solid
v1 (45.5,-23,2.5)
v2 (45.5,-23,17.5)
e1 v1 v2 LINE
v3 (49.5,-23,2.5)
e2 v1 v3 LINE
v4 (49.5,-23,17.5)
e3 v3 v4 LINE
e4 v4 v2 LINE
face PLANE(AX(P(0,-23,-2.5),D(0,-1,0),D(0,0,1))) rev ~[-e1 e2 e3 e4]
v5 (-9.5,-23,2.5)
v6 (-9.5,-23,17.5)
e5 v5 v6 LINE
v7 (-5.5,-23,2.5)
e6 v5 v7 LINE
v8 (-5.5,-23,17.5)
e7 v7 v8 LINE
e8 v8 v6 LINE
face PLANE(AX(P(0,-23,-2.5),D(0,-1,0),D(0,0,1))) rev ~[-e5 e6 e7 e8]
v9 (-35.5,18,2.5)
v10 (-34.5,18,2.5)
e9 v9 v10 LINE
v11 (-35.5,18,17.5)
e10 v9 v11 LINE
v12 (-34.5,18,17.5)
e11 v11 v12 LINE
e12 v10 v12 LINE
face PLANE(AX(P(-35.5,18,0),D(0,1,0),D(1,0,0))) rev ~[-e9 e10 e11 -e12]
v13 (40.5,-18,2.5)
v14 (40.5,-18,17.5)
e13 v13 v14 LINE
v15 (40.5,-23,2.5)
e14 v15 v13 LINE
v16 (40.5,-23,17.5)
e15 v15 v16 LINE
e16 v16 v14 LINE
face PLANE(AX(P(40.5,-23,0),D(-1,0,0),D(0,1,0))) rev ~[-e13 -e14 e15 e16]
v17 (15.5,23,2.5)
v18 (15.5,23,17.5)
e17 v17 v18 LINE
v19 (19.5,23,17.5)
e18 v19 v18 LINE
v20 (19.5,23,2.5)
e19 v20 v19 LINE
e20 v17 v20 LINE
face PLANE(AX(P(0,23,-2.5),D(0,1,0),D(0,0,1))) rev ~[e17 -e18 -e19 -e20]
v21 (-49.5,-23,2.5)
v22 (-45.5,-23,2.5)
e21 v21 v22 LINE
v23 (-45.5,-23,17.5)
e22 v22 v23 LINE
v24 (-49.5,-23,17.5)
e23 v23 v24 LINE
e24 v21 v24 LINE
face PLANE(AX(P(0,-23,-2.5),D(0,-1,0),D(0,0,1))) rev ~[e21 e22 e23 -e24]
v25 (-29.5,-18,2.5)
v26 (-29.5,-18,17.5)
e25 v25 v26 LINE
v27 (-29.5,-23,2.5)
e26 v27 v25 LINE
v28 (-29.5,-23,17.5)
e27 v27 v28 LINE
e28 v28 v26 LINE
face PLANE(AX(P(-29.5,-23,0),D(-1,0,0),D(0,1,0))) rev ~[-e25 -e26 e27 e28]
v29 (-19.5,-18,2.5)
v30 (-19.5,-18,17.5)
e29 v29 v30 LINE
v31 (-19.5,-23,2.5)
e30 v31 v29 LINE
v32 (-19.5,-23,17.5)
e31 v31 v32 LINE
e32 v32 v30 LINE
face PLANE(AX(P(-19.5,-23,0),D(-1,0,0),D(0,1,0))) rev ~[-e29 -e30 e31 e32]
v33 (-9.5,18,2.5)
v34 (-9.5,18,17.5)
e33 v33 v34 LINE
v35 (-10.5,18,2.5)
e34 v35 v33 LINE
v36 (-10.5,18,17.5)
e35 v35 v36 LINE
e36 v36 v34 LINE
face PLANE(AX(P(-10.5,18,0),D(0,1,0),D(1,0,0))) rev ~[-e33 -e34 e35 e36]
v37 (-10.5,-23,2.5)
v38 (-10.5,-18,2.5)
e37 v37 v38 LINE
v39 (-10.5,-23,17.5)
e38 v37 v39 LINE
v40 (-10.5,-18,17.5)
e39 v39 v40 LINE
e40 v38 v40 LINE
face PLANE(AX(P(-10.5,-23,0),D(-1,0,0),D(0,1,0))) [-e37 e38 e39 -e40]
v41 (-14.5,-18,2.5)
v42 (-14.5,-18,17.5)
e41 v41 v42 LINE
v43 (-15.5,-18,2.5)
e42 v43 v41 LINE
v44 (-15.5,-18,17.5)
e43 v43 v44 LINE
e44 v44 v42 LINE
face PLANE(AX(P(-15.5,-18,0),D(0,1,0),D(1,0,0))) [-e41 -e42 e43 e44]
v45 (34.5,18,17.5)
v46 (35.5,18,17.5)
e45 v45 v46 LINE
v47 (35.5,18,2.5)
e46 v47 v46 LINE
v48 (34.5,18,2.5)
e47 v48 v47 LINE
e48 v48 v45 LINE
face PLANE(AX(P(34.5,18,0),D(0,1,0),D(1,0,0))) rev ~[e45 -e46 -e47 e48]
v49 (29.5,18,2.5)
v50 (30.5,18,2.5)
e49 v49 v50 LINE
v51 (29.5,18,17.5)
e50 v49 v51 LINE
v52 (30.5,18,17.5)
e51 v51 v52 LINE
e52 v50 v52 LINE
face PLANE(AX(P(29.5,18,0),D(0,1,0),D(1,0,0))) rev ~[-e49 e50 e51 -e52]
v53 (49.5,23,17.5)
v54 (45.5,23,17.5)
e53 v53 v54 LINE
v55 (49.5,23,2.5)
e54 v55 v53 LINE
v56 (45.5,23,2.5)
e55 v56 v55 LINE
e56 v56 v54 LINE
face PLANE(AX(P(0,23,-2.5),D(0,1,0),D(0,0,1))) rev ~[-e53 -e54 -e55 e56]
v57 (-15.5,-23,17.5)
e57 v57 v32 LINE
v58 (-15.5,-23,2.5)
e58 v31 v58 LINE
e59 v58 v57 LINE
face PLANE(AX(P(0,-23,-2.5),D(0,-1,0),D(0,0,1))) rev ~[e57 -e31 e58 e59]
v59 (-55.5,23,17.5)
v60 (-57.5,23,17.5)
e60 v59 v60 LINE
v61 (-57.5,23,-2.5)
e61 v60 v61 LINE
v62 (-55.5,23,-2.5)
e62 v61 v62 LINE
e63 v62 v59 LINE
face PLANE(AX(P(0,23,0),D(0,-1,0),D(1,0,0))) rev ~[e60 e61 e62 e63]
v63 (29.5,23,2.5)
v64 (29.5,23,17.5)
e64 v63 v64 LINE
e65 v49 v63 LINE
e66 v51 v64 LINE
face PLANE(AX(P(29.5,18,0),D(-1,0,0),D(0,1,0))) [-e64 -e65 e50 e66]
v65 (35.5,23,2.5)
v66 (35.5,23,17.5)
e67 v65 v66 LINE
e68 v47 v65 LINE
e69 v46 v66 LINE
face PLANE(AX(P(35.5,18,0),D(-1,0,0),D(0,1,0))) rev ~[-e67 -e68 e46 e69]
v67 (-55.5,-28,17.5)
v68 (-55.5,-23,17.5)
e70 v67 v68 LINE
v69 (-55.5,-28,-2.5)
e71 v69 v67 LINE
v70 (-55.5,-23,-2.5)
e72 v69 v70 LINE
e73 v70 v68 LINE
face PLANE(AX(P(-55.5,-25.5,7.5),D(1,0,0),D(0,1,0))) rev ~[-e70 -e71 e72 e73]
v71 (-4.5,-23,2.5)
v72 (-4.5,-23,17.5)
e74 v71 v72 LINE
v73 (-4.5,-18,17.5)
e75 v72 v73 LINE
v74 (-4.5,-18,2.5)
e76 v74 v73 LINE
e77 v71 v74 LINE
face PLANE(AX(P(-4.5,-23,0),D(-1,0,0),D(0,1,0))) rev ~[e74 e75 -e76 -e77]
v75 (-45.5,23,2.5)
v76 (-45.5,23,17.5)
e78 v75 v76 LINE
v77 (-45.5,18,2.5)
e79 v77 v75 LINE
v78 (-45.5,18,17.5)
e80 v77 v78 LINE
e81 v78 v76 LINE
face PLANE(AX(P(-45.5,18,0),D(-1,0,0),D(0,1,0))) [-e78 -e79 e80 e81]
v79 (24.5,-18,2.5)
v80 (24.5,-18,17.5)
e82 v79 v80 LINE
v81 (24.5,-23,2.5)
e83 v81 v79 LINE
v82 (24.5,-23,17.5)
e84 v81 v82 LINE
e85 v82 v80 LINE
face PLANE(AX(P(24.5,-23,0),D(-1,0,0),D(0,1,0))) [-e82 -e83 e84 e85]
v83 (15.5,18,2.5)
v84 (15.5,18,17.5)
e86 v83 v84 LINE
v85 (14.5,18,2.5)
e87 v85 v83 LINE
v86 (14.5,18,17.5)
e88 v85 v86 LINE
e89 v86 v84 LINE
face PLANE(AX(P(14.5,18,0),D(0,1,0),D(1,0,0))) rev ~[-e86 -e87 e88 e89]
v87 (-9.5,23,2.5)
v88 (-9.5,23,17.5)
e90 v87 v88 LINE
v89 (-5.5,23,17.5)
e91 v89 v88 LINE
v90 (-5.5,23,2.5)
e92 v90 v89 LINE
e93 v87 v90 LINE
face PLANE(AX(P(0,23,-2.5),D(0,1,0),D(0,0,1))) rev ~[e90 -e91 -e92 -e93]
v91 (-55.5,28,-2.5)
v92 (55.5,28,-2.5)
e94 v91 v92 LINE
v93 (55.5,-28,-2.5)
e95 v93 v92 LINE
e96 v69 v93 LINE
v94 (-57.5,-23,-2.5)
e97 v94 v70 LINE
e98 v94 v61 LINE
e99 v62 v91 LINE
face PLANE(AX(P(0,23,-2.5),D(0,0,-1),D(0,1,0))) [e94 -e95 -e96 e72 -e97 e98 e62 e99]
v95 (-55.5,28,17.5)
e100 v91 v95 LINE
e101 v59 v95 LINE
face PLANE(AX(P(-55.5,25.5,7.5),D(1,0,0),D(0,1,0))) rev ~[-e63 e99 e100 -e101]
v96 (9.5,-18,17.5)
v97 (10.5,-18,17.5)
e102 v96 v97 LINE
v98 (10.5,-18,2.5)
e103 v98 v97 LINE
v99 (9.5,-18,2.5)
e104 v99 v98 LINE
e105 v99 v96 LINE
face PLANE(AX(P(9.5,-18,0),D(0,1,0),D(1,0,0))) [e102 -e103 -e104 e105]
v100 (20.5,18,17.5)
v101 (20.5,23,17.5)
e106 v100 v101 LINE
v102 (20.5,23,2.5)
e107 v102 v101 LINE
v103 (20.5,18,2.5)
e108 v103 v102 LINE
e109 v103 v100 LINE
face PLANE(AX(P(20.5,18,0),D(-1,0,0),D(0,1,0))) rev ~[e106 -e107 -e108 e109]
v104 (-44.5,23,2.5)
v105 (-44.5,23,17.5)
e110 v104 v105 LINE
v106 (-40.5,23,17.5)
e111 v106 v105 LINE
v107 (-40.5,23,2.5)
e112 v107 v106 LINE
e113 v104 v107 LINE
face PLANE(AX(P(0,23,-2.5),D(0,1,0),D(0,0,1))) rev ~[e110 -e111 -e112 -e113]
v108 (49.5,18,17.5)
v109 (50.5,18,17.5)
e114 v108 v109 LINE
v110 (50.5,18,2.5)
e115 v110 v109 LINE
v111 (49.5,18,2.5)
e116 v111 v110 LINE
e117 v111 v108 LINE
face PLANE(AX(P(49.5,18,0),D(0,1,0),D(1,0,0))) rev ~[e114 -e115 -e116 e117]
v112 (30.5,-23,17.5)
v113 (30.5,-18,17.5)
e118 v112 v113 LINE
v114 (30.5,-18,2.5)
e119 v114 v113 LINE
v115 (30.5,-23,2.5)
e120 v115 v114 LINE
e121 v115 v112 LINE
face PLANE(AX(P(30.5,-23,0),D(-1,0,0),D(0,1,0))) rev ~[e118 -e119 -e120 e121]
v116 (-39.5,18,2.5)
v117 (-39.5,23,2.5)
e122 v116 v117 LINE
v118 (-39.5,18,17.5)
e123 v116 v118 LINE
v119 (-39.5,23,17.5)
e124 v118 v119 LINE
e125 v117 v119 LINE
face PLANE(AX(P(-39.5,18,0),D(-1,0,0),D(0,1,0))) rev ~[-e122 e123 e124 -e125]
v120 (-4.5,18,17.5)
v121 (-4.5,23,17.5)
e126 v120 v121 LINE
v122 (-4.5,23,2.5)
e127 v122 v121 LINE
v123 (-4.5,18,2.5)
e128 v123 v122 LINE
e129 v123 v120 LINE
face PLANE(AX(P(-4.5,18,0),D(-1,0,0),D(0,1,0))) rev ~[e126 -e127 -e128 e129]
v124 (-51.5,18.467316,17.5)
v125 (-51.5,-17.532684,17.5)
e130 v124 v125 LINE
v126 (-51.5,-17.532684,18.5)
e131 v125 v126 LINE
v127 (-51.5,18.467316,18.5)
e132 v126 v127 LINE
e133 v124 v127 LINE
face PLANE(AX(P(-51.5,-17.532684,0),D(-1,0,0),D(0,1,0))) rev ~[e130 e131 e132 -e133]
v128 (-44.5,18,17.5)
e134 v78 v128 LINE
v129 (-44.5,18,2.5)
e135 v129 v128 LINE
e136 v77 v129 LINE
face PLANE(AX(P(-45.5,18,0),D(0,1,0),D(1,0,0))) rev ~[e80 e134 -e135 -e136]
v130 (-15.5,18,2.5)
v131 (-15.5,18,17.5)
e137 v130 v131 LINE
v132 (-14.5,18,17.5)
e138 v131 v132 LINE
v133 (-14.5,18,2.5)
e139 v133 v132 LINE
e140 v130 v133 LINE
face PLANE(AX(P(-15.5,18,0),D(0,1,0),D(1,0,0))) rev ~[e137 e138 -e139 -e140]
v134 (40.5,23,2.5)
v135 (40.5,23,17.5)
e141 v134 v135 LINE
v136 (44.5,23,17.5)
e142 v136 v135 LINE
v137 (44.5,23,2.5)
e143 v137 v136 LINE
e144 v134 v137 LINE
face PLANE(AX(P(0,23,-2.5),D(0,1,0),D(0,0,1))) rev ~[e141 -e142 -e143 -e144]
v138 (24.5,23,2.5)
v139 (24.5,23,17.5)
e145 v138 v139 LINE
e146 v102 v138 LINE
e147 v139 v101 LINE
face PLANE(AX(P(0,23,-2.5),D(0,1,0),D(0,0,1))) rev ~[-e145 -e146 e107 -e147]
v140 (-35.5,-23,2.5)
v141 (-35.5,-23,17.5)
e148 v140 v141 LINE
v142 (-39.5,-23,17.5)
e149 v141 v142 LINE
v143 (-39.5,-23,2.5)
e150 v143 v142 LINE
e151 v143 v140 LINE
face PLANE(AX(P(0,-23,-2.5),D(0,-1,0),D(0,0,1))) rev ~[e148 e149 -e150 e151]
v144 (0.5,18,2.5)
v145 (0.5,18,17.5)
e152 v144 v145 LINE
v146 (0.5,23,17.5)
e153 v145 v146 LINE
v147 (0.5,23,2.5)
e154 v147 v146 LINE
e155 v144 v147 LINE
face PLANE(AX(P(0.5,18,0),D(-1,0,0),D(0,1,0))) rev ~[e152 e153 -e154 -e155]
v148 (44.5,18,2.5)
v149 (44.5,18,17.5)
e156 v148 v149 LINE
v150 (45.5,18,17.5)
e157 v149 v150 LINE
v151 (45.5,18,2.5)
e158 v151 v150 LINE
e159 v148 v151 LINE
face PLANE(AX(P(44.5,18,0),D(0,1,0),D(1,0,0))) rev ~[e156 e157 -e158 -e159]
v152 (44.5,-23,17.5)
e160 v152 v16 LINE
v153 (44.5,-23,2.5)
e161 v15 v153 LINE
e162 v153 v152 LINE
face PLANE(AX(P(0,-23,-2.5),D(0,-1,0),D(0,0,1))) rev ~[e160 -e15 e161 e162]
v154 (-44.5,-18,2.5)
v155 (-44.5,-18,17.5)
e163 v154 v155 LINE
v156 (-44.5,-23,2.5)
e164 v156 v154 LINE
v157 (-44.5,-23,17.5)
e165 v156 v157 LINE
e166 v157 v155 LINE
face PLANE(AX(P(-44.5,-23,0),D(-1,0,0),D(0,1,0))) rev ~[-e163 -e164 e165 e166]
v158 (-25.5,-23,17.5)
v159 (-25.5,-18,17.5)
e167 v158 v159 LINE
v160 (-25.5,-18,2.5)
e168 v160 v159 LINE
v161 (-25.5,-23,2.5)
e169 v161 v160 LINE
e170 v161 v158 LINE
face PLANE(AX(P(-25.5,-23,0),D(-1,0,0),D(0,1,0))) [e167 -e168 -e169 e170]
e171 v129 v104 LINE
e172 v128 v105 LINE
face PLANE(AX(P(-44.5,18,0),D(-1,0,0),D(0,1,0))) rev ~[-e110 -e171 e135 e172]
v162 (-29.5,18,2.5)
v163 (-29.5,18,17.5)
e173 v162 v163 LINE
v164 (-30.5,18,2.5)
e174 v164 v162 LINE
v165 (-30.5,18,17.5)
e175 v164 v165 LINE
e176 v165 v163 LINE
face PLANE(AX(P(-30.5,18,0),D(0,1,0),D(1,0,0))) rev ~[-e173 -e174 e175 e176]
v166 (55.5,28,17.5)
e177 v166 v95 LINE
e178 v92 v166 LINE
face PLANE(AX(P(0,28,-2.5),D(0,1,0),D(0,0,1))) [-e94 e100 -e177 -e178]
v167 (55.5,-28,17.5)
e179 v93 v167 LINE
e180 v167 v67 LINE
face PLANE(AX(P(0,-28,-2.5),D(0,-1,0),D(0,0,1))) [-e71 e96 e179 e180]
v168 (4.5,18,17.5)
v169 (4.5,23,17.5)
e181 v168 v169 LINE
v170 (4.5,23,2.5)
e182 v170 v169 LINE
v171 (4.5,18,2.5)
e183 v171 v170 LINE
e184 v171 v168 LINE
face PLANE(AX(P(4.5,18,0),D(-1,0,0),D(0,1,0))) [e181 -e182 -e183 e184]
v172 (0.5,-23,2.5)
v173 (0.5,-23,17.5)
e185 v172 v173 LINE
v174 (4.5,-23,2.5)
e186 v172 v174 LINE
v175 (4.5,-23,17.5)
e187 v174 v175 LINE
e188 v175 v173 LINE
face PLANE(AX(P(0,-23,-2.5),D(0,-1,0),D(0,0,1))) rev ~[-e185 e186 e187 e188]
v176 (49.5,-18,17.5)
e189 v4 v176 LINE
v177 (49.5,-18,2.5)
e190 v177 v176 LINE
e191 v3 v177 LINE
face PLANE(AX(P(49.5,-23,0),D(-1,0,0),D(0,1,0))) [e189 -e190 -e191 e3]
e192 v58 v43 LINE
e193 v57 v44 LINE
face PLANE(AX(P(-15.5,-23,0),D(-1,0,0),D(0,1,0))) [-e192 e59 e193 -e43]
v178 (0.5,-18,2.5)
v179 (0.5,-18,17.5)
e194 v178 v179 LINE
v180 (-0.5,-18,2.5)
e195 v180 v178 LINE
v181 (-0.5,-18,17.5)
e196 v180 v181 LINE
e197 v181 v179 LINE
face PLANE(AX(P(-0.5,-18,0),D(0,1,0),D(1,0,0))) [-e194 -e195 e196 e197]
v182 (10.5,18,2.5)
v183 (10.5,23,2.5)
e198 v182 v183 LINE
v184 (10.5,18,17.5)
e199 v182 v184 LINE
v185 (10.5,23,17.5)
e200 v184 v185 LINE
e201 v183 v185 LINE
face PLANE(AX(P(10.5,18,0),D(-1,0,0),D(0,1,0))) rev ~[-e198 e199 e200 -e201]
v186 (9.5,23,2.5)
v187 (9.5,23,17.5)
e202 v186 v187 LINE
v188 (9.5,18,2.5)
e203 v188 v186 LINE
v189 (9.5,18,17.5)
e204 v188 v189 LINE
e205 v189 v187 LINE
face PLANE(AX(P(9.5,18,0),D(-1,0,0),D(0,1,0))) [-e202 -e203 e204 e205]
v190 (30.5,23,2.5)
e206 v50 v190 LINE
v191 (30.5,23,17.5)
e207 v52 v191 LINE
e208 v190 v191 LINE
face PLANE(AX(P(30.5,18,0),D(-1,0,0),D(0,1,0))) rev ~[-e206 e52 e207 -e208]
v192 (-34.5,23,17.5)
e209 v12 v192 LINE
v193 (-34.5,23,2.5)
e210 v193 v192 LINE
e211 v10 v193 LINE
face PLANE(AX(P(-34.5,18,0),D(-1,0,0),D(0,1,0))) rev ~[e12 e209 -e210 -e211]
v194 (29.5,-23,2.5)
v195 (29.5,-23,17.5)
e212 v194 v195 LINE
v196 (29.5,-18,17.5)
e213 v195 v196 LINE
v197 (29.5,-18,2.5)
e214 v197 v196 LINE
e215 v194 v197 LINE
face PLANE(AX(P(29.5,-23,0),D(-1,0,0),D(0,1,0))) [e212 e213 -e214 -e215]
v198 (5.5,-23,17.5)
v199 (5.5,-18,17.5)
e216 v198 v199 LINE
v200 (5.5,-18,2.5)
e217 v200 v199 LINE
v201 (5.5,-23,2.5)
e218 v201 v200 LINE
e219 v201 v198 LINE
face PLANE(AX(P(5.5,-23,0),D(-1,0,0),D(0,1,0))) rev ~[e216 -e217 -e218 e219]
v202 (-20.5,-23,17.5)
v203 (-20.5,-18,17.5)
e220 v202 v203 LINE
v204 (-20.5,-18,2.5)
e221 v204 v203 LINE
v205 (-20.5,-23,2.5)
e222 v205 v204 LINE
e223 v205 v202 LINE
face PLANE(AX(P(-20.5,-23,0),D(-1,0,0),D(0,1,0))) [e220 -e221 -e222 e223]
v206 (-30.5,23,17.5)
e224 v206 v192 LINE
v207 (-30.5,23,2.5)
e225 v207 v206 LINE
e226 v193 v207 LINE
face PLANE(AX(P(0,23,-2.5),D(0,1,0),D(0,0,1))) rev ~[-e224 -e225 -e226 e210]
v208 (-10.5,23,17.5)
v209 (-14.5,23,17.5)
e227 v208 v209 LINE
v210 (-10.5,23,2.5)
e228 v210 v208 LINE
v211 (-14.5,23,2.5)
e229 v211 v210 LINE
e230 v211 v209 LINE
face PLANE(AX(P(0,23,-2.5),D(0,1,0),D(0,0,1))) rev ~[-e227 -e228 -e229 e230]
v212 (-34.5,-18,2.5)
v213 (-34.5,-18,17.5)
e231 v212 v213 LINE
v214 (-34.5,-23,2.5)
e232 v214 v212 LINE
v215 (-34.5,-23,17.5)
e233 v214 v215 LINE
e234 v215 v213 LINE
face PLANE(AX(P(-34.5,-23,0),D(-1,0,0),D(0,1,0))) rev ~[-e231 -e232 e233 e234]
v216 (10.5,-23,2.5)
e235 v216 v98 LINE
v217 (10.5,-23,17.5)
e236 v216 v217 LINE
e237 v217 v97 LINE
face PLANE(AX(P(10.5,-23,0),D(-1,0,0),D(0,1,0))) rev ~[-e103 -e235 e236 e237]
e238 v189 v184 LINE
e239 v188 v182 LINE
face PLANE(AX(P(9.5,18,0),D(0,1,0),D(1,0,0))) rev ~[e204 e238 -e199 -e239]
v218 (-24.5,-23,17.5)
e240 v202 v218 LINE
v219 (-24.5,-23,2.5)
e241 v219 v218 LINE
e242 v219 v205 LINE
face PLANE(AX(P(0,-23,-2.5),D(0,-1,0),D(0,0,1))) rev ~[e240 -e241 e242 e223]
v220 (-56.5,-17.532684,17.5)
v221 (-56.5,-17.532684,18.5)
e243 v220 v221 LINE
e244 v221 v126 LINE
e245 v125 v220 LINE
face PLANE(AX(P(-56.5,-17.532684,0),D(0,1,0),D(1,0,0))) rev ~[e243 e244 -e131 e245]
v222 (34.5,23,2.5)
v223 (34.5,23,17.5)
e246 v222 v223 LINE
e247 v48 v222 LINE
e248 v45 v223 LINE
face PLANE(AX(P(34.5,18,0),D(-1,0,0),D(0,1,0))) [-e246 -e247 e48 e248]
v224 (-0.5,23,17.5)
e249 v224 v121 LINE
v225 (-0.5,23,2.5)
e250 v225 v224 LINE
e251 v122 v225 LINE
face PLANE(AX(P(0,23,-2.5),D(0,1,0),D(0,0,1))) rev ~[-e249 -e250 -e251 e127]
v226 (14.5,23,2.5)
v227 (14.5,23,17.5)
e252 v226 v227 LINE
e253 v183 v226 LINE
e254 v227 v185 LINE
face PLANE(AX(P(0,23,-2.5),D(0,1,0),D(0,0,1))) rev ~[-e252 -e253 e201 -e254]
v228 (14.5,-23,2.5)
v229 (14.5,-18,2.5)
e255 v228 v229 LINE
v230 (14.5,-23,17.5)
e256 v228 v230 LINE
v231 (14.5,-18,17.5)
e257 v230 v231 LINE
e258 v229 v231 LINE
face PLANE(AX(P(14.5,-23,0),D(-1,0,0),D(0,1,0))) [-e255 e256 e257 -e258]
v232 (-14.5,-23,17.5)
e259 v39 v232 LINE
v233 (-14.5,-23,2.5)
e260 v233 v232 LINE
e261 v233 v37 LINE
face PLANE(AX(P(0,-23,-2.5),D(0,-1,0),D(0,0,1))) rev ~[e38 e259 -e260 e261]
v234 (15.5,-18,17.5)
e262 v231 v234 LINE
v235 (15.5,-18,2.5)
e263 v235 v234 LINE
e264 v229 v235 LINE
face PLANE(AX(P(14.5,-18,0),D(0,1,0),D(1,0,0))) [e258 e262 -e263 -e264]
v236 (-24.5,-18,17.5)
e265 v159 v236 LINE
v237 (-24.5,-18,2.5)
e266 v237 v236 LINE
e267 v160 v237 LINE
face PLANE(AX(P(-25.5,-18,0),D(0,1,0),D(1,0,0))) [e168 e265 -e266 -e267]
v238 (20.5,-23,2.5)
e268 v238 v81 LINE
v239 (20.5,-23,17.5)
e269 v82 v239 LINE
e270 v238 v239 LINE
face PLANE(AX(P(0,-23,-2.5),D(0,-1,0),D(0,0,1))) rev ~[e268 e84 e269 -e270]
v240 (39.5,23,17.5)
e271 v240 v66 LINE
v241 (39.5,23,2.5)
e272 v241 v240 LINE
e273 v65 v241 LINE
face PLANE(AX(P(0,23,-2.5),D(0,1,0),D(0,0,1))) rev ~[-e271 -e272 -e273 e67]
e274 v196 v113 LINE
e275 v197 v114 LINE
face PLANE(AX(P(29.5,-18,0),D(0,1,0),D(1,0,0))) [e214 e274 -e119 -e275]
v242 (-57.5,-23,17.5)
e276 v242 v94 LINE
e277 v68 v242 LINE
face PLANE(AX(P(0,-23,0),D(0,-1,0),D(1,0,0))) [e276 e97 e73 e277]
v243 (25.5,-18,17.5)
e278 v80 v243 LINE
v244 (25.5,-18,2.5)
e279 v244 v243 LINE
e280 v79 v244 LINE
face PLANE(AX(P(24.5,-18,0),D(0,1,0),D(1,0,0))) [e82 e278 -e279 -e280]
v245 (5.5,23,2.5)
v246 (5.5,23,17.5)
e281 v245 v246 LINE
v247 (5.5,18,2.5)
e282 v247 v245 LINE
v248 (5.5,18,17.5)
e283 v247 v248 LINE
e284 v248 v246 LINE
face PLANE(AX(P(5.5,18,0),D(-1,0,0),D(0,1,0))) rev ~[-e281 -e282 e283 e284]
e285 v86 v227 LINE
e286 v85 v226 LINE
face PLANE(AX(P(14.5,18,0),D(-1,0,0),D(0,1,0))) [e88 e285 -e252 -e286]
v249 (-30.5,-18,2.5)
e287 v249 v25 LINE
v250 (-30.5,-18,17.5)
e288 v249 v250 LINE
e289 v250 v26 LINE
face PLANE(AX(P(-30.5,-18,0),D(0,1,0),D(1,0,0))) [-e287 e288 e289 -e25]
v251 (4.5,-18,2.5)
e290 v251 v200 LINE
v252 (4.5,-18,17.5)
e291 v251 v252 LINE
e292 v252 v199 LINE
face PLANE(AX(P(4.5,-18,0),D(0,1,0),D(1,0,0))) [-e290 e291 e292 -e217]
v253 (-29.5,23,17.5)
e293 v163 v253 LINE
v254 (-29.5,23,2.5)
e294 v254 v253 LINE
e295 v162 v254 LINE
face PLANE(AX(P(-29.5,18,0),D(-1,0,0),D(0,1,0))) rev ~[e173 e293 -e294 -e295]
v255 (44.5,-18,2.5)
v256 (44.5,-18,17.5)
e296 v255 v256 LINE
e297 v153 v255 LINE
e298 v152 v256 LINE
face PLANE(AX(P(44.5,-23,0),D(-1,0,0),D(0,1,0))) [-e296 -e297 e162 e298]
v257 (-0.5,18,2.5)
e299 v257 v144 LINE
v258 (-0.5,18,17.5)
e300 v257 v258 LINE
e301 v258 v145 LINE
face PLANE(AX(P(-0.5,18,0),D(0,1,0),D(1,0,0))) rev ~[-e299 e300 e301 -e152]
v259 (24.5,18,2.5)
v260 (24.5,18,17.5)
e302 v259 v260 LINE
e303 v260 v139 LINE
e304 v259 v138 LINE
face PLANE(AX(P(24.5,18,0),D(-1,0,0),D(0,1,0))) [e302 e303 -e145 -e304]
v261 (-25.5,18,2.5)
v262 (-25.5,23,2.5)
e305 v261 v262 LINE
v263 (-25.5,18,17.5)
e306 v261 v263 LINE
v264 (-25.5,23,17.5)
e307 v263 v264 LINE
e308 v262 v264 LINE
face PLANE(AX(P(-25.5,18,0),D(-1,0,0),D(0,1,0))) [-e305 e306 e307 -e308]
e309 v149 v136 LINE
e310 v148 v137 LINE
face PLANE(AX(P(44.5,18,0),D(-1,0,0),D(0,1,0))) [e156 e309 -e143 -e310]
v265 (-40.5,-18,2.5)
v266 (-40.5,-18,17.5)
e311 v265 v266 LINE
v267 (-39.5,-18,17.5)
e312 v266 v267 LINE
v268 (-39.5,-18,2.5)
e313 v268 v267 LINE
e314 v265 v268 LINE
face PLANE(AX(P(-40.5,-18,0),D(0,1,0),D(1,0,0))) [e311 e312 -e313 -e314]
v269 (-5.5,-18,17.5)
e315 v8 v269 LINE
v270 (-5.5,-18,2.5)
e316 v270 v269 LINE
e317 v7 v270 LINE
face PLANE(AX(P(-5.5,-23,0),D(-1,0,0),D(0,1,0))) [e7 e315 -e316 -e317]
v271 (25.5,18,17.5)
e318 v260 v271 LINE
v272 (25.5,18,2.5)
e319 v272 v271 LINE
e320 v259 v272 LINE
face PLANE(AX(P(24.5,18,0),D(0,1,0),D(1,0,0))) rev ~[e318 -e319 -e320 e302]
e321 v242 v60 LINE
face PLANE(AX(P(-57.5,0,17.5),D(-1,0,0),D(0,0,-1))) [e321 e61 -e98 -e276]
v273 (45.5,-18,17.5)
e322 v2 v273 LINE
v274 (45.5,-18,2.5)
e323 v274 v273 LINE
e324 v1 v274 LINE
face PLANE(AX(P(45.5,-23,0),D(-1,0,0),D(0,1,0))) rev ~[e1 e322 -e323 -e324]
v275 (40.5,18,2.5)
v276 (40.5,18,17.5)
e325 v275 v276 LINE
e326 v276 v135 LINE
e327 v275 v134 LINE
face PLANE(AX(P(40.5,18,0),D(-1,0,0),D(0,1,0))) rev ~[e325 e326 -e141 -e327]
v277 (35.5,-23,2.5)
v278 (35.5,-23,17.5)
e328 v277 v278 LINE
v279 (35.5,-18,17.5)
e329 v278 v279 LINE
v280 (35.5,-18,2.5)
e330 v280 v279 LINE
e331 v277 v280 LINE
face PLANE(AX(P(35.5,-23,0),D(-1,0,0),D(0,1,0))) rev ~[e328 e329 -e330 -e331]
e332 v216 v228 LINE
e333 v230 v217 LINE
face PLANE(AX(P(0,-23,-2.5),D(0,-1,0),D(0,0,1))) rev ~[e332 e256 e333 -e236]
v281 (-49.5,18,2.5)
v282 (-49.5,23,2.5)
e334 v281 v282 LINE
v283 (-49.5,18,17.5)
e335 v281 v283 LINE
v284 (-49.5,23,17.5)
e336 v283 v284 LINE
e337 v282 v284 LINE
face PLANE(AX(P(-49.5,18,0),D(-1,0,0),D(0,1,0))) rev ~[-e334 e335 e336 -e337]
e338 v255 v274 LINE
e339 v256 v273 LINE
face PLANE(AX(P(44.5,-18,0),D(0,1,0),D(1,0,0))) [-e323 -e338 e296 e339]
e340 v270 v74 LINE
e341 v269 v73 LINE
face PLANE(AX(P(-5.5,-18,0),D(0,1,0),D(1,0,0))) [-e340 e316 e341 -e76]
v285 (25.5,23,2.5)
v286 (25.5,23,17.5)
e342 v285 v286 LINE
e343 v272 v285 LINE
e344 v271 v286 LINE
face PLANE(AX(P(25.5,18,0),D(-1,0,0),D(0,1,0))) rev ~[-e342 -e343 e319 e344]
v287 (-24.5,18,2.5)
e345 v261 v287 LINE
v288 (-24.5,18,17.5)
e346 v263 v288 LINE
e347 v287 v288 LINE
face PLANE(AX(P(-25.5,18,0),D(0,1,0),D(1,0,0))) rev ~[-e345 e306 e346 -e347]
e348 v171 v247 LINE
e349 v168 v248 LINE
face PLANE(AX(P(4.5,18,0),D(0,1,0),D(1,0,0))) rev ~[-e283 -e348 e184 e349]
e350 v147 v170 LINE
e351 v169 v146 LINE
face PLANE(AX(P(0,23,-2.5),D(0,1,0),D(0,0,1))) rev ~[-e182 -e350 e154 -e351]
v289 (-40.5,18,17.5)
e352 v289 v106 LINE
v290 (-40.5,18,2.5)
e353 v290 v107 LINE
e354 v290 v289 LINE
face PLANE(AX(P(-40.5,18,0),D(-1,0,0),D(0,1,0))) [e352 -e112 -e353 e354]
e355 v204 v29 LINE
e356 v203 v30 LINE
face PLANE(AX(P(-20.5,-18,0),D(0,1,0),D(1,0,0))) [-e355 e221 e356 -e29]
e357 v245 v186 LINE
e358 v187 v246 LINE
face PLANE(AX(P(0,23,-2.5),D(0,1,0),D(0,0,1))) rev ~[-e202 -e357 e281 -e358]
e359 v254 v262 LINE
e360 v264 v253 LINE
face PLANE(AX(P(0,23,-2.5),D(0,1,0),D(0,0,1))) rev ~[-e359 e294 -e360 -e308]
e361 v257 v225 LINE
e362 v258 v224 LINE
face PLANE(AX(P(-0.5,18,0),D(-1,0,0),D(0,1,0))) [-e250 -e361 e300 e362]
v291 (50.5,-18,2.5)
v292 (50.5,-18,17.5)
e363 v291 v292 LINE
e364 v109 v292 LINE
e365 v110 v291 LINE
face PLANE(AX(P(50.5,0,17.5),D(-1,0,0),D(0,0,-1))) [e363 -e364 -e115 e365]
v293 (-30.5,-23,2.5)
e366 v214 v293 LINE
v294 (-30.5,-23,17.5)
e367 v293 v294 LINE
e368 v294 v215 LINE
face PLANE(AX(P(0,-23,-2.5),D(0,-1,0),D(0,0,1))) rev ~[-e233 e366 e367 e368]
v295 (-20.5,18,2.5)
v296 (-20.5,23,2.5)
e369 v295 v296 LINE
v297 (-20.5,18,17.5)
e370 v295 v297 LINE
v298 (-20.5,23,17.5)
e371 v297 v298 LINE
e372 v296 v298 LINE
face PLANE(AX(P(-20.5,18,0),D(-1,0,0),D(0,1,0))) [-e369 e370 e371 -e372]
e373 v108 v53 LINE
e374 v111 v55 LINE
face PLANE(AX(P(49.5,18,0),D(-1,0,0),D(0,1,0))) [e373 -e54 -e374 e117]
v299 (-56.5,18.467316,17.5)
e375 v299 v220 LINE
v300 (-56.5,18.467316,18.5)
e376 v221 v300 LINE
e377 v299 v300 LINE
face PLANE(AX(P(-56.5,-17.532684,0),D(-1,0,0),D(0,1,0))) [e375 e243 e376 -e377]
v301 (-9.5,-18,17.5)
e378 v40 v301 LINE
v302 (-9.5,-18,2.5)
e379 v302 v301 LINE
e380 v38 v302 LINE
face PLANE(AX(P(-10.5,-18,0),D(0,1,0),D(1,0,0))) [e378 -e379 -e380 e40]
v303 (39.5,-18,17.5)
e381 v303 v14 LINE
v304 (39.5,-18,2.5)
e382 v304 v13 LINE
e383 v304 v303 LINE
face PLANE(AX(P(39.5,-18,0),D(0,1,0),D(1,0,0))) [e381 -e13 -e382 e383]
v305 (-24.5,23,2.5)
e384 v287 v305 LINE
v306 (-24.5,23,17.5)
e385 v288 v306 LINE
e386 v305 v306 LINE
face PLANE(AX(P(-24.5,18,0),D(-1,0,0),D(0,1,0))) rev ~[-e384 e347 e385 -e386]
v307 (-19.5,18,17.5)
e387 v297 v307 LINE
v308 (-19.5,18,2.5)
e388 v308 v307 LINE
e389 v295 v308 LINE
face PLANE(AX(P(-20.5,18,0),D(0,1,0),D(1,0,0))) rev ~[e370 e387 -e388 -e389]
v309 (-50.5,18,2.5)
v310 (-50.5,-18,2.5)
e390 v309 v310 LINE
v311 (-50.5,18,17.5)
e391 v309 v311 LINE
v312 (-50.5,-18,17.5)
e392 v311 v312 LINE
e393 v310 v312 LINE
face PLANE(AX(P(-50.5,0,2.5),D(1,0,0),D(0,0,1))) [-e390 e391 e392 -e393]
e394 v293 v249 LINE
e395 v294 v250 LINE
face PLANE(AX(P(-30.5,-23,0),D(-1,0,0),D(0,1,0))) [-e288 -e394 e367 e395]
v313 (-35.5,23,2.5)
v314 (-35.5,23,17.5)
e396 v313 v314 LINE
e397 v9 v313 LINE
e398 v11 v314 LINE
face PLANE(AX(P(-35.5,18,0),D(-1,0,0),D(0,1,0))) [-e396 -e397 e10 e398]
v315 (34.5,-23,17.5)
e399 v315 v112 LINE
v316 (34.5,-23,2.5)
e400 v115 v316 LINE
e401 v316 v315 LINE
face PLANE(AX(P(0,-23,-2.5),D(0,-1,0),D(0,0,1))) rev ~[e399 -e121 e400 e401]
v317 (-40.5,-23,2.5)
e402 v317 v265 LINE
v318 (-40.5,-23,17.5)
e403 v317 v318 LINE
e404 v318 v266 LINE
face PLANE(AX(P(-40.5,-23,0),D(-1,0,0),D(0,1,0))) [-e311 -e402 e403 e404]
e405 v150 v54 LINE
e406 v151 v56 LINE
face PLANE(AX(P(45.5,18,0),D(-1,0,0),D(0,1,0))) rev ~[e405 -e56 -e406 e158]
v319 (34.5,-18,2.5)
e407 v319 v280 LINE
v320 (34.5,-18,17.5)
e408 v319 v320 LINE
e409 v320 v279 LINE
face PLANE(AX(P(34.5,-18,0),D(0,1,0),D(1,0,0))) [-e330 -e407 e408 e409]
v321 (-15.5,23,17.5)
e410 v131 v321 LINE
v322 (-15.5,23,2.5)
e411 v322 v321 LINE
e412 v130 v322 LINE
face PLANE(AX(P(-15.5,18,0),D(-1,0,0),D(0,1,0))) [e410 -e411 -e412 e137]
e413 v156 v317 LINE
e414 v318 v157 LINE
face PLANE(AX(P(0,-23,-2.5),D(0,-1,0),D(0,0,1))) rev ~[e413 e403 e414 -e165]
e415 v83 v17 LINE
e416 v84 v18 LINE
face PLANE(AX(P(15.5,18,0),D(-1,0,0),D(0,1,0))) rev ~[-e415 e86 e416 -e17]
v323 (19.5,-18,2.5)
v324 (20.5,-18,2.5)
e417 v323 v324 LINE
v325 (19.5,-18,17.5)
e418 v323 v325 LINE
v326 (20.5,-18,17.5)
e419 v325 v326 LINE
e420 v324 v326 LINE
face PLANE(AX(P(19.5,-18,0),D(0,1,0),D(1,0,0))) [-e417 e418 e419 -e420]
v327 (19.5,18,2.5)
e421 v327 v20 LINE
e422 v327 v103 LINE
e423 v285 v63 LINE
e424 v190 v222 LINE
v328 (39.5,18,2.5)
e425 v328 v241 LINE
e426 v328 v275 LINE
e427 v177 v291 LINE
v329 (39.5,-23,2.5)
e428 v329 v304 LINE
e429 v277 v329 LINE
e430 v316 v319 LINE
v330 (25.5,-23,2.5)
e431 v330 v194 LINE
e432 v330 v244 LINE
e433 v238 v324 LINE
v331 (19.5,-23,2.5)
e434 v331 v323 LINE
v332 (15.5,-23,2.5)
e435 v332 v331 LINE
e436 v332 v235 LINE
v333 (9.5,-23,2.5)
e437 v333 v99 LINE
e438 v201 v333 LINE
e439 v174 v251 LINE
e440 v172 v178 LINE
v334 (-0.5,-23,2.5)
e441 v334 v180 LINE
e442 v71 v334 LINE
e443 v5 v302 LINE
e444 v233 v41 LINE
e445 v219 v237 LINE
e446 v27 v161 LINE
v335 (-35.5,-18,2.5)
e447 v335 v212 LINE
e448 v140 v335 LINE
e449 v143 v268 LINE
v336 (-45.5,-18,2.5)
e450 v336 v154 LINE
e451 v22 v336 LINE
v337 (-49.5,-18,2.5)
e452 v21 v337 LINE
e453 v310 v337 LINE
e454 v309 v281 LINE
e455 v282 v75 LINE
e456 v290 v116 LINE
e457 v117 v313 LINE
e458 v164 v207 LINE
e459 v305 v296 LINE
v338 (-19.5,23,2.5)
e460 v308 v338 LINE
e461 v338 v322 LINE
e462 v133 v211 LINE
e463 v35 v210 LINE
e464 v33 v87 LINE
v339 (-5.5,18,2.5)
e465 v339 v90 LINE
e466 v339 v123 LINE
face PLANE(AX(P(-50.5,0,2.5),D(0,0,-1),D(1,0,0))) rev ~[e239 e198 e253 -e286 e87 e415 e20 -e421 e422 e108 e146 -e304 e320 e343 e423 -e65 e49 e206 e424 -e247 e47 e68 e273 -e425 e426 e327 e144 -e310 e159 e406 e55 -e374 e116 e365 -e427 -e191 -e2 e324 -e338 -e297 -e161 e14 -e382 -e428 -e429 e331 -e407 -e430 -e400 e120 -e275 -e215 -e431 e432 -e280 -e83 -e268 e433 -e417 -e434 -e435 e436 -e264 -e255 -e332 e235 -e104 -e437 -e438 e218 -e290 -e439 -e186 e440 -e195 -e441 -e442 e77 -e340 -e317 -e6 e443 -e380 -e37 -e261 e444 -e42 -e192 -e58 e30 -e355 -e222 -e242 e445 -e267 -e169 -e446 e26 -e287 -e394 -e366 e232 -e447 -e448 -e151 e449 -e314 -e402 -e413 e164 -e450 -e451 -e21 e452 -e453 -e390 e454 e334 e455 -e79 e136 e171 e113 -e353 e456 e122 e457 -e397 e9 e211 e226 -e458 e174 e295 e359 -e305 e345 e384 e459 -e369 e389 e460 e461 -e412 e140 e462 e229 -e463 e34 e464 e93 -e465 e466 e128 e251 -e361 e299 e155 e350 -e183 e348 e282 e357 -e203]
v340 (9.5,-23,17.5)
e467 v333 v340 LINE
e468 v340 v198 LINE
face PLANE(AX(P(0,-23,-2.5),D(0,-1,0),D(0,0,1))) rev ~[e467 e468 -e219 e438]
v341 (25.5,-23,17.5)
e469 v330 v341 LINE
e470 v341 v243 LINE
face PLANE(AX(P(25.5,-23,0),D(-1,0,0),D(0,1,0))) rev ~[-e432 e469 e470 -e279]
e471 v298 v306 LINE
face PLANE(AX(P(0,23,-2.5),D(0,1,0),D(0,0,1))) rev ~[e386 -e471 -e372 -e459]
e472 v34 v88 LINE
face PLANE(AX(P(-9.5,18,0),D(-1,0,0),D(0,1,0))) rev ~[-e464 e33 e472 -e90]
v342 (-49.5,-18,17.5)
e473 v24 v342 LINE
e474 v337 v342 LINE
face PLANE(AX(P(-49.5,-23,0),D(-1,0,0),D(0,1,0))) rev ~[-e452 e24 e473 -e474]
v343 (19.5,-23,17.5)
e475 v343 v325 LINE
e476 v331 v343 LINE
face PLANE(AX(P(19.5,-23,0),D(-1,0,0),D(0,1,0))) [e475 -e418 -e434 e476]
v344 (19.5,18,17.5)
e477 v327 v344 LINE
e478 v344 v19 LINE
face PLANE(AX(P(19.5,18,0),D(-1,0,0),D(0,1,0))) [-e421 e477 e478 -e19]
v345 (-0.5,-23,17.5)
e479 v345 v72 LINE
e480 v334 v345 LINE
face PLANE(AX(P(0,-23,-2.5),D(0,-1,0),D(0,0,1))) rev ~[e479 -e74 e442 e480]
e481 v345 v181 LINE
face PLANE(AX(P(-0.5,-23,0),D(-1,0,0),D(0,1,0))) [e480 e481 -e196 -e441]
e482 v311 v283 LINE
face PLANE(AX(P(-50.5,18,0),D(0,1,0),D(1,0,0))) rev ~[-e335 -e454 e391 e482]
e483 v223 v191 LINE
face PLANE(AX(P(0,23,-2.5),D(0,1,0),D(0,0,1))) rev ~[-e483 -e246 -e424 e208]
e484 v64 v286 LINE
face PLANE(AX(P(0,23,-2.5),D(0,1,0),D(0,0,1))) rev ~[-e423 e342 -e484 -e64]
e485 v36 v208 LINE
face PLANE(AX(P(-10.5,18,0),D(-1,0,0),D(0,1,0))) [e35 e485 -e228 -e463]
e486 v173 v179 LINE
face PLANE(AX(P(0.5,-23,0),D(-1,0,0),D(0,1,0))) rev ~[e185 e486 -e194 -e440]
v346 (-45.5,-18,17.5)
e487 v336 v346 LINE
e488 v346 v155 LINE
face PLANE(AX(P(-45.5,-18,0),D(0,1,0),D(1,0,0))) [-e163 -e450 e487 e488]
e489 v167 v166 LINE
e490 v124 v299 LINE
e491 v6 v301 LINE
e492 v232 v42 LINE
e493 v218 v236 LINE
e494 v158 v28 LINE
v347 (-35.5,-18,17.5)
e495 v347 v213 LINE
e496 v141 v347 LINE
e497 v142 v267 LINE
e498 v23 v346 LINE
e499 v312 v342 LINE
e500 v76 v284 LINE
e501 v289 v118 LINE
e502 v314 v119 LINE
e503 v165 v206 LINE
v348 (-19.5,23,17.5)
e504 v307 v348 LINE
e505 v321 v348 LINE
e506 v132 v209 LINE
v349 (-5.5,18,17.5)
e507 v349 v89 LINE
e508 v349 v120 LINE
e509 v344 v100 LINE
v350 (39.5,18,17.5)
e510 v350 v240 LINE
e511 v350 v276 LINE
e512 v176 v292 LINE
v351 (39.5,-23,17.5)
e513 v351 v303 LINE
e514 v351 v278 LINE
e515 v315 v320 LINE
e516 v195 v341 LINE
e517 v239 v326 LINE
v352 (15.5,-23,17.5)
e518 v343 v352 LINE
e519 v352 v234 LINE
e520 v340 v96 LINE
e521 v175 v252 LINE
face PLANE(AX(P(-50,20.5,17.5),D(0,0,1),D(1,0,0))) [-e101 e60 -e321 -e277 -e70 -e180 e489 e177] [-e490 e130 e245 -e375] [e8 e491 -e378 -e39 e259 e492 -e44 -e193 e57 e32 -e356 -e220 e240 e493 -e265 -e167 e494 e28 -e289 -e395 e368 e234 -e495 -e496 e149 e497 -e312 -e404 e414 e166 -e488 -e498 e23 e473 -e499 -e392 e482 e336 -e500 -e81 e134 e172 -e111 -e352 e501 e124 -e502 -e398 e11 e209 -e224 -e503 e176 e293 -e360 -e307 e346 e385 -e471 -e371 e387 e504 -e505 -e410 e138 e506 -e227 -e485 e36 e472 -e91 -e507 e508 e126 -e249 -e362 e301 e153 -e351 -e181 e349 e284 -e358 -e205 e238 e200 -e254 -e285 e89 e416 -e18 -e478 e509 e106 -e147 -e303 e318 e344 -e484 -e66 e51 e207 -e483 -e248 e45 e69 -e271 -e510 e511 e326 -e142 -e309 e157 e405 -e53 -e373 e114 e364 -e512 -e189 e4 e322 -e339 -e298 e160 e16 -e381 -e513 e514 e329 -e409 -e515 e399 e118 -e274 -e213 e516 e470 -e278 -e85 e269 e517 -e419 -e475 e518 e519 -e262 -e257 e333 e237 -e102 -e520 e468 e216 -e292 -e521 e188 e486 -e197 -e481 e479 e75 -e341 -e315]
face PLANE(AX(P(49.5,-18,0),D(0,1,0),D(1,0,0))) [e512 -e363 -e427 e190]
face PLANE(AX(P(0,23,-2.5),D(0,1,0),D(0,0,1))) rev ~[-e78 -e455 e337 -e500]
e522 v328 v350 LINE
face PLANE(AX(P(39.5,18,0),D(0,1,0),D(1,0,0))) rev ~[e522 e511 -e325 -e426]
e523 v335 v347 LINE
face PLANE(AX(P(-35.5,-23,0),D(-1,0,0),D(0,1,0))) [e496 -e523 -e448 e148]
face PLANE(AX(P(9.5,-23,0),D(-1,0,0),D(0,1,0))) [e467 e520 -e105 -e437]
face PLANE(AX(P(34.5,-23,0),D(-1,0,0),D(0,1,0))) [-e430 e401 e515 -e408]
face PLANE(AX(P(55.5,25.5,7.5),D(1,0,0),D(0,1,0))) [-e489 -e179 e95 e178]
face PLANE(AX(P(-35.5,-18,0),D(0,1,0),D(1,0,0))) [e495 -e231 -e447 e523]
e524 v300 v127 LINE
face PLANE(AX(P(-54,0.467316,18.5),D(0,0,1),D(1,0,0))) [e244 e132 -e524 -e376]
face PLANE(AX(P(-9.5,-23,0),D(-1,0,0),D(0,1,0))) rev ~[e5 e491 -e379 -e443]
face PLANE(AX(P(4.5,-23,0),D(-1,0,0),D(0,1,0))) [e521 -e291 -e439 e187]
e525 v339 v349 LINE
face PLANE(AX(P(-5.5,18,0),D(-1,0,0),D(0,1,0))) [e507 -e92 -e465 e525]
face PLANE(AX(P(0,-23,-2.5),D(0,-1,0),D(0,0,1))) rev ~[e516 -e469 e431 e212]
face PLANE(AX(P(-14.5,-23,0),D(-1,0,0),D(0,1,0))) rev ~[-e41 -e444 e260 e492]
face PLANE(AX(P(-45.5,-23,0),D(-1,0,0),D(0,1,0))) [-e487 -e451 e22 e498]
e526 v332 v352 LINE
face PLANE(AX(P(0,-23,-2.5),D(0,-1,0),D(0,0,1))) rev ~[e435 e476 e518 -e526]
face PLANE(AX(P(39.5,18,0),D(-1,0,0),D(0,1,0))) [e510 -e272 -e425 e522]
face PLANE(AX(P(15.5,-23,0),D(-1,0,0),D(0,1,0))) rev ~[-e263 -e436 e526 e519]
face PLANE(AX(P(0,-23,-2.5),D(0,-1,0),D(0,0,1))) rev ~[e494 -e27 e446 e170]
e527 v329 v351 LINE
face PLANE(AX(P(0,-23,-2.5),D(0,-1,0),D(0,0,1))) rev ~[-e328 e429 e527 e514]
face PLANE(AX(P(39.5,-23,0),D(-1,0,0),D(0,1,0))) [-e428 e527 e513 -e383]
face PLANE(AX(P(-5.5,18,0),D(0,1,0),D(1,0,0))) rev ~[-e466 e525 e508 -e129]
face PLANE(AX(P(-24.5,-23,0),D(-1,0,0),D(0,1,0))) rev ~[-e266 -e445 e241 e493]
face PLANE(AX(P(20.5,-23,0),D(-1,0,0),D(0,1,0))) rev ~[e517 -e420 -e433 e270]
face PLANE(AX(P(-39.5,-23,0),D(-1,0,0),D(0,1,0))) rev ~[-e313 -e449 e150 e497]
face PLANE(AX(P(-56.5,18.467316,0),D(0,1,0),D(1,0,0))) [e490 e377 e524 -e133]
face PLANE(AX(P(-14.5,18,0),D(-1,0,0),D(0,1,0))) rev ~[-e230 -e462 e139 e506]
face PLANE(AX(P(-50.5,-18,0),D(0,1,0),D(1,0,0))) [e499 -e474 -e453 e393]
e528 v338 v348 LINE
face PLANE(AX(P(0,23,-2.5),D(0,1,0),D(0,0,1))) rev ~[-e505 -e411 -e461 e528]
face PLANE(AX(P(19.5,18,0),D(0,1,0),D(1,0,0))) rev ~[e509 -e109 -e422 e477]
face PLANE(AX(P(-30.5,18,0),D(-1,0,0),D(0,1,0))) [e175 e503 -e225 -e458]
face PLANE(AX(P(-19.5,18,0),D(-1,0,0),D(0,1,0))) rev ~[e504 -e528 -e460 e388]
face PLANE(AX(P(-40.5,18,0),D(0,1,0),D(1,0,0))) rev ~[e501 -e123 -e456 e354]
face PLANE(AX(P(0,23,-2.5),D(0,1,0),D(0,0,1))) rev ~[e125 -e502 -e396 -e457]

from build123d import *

# Parameters (mm, degrees)
F2_W     = 101
F2_H     = 5
F3_DEPTH = 23
F4_W     = 5
F4_H     = 20
F5_DEPTH = 55.5
F1_W     = 1
F1_H     = 5
F6_DEPTH = 17.5
F7_W     = 5
F7_H     = 36
F8_DEPTH = 18.5


with BuildPart() as f3:
    # F2 (on Front) → F3 (new body, symmetric)
    with BuildSketch(Plane.XZ):
        Rectangle(F2_W, F2_H)
        Polygon((50.5, 17.5), (50.5, 2.5), (50.5, -2.5), (55.5, -2.5), (55.5, 17.5), align=None)
        Polygon((-50.5, -2.5), (-50.5, 2.5), (-50.5, 17.5), (-57.5, 17.5), (-57.5, -2.5), align=None)
    extrude(amount=F3_DEPTH, both=True)

    # F4 (on Right) → F5 (join, symmetric)
    with BuildSketch(Plane.YZ):
        with Locations((-25.5, 7.5)):
            Rectangle(F4_W, F4_H)
        with Locations((25.5, 7.5)):
            Rectangle(F4_W, F4_H)
    extrude(amount=F5_DEPTH, both=True)

    # F1 (on Top) → F6 (join)
    with BuildSketch(Plane.XY):
        with Locations((-50, 20.5)):
            Rectangle(F1_W, F1_H)
        with Locations((-45, 20.5)):
            Rectangle(F1_W, F1_H)
        with Locations((-40, 20.5)):
            Rectangle(F1_W, F1_H)
        with Locations((-35, 20.5)):
            Rectangle(F1_W, F1_H)
        with Locations((-30, 20.5)):
            Rectangle(F1_W, F1_H)
        with Locations((-25, 20.5)):
            Rectangle(F1_W, F1_H)
        with Locations((-20, 20.5)):
            Rectangle(F1_W, F1_H)
        with Locations((-15, 20.5)):
            Rectangle(F1_W, F1_H)
        with Locations((-10, 20.5)):
            Rectangle(F1_W, F1_H)
        with Locations((-5, 20.5)):
            Rectangle(F1_W, F1_H)
        with Locations((0, 20.5)):
            Rectangle(F1_W, F1_H)
        with Locations((5, 20.5)):
            Rectangle(F1_W, F1_H)
        with Locations((10, 20.5)):
            Rectangle(F1_W, F1_H)
        with Locations((15, 20.5)):
            Rectangle(F1_W, F1_H)
        with Locations((20, 20.5)):
            Rectangle(F1_W, F1_H)
        with Locations((25, 20.5)):
            Rectangle(F1_W, F1_H)
        with Locations((30, 20.5)):
            Rectangle(F1_W, F1_H)
        with Locations((35, 20.5)):
            Rectangle(F1_W, F1_H)
        with Locations((40, 20.5)):
            Rectangle(F1_W, F1_H)
        with Locations((45, 20.5)):
            Rectangle(F1_W, F1_H)
        with Locations((50, 20.5)):
            Rectangle(F1_W, F1_H)
        with Locations((-50, -20.5)):
            Rectangle(F1_W, F1_H)
        with Locations((50, -20.5)):
            Rectangle(F1_W, F1_H)
        with Locations((-45, -20.5)):
            Rectangle(F1_W, F1_H)
        with Locations((0, -20.5)):
            Rectangle(F1_W, F1_H)
        with Locations((20, -20.5)):
            Rectangle(F1_W, F1_H)
        with Locations((40, -20.5)):
            Rectangle(F1_W, F1_H)
        with Locations((-20, -20.5)):
            Rectangle(F1_W, F1_H)
        with Locations((30, -20.5)):
            Rectangle(F1_W, F1_H)
        with Locations((-35, -20.5)):
            Rectangle(F1_W, F1_H)
        with Locations((-30, -20.5)):
            Rectangle(F1_W, F1_H)
        with Locations((-10, -20.5)):
            Rectangle(F1_W, F1_H)
        with Locations((10, -20.5)):
            Rectangle(F1_W, F1_H)
        with Locations((-40, -20.5)):
            Rectangle(F1_W, F1_H)
        with Locations((35, -20.5)):
            Rectangle(F1_W, F1_H)
        with Locations((-25, -20.5)):
            Rectangle(F1_W, F1_H)
        with Locations((-5, -20.5)):
            Rectangle(F1_W, F1_H)
        with Locations((15, -20.5)):
            Rectangle(F1_W, F1_H)
        with Locations((5, -20.5)):
            Rectangle(F1_W, F1_H)
        with Locations((25, -20.5)):
            Rectangle(F1_W, F1_H)
        with Locations((45, -20.5)):
            Rectangle(F1_W, F1_H)
        with Locations((-15, -20.5)):
            Rectangle(F1_W, F1_H)
    extrude(amount=F6_DEPTH)

    # F7 (on Top) → F8 (join)
    with BuildSketch(Plane.XY):
        with Locations((-54, 0.467316)):
            Rectangle(F7_W, F7_H)
    extrude(amount=F8_DEPTH)


solid = f3.part
